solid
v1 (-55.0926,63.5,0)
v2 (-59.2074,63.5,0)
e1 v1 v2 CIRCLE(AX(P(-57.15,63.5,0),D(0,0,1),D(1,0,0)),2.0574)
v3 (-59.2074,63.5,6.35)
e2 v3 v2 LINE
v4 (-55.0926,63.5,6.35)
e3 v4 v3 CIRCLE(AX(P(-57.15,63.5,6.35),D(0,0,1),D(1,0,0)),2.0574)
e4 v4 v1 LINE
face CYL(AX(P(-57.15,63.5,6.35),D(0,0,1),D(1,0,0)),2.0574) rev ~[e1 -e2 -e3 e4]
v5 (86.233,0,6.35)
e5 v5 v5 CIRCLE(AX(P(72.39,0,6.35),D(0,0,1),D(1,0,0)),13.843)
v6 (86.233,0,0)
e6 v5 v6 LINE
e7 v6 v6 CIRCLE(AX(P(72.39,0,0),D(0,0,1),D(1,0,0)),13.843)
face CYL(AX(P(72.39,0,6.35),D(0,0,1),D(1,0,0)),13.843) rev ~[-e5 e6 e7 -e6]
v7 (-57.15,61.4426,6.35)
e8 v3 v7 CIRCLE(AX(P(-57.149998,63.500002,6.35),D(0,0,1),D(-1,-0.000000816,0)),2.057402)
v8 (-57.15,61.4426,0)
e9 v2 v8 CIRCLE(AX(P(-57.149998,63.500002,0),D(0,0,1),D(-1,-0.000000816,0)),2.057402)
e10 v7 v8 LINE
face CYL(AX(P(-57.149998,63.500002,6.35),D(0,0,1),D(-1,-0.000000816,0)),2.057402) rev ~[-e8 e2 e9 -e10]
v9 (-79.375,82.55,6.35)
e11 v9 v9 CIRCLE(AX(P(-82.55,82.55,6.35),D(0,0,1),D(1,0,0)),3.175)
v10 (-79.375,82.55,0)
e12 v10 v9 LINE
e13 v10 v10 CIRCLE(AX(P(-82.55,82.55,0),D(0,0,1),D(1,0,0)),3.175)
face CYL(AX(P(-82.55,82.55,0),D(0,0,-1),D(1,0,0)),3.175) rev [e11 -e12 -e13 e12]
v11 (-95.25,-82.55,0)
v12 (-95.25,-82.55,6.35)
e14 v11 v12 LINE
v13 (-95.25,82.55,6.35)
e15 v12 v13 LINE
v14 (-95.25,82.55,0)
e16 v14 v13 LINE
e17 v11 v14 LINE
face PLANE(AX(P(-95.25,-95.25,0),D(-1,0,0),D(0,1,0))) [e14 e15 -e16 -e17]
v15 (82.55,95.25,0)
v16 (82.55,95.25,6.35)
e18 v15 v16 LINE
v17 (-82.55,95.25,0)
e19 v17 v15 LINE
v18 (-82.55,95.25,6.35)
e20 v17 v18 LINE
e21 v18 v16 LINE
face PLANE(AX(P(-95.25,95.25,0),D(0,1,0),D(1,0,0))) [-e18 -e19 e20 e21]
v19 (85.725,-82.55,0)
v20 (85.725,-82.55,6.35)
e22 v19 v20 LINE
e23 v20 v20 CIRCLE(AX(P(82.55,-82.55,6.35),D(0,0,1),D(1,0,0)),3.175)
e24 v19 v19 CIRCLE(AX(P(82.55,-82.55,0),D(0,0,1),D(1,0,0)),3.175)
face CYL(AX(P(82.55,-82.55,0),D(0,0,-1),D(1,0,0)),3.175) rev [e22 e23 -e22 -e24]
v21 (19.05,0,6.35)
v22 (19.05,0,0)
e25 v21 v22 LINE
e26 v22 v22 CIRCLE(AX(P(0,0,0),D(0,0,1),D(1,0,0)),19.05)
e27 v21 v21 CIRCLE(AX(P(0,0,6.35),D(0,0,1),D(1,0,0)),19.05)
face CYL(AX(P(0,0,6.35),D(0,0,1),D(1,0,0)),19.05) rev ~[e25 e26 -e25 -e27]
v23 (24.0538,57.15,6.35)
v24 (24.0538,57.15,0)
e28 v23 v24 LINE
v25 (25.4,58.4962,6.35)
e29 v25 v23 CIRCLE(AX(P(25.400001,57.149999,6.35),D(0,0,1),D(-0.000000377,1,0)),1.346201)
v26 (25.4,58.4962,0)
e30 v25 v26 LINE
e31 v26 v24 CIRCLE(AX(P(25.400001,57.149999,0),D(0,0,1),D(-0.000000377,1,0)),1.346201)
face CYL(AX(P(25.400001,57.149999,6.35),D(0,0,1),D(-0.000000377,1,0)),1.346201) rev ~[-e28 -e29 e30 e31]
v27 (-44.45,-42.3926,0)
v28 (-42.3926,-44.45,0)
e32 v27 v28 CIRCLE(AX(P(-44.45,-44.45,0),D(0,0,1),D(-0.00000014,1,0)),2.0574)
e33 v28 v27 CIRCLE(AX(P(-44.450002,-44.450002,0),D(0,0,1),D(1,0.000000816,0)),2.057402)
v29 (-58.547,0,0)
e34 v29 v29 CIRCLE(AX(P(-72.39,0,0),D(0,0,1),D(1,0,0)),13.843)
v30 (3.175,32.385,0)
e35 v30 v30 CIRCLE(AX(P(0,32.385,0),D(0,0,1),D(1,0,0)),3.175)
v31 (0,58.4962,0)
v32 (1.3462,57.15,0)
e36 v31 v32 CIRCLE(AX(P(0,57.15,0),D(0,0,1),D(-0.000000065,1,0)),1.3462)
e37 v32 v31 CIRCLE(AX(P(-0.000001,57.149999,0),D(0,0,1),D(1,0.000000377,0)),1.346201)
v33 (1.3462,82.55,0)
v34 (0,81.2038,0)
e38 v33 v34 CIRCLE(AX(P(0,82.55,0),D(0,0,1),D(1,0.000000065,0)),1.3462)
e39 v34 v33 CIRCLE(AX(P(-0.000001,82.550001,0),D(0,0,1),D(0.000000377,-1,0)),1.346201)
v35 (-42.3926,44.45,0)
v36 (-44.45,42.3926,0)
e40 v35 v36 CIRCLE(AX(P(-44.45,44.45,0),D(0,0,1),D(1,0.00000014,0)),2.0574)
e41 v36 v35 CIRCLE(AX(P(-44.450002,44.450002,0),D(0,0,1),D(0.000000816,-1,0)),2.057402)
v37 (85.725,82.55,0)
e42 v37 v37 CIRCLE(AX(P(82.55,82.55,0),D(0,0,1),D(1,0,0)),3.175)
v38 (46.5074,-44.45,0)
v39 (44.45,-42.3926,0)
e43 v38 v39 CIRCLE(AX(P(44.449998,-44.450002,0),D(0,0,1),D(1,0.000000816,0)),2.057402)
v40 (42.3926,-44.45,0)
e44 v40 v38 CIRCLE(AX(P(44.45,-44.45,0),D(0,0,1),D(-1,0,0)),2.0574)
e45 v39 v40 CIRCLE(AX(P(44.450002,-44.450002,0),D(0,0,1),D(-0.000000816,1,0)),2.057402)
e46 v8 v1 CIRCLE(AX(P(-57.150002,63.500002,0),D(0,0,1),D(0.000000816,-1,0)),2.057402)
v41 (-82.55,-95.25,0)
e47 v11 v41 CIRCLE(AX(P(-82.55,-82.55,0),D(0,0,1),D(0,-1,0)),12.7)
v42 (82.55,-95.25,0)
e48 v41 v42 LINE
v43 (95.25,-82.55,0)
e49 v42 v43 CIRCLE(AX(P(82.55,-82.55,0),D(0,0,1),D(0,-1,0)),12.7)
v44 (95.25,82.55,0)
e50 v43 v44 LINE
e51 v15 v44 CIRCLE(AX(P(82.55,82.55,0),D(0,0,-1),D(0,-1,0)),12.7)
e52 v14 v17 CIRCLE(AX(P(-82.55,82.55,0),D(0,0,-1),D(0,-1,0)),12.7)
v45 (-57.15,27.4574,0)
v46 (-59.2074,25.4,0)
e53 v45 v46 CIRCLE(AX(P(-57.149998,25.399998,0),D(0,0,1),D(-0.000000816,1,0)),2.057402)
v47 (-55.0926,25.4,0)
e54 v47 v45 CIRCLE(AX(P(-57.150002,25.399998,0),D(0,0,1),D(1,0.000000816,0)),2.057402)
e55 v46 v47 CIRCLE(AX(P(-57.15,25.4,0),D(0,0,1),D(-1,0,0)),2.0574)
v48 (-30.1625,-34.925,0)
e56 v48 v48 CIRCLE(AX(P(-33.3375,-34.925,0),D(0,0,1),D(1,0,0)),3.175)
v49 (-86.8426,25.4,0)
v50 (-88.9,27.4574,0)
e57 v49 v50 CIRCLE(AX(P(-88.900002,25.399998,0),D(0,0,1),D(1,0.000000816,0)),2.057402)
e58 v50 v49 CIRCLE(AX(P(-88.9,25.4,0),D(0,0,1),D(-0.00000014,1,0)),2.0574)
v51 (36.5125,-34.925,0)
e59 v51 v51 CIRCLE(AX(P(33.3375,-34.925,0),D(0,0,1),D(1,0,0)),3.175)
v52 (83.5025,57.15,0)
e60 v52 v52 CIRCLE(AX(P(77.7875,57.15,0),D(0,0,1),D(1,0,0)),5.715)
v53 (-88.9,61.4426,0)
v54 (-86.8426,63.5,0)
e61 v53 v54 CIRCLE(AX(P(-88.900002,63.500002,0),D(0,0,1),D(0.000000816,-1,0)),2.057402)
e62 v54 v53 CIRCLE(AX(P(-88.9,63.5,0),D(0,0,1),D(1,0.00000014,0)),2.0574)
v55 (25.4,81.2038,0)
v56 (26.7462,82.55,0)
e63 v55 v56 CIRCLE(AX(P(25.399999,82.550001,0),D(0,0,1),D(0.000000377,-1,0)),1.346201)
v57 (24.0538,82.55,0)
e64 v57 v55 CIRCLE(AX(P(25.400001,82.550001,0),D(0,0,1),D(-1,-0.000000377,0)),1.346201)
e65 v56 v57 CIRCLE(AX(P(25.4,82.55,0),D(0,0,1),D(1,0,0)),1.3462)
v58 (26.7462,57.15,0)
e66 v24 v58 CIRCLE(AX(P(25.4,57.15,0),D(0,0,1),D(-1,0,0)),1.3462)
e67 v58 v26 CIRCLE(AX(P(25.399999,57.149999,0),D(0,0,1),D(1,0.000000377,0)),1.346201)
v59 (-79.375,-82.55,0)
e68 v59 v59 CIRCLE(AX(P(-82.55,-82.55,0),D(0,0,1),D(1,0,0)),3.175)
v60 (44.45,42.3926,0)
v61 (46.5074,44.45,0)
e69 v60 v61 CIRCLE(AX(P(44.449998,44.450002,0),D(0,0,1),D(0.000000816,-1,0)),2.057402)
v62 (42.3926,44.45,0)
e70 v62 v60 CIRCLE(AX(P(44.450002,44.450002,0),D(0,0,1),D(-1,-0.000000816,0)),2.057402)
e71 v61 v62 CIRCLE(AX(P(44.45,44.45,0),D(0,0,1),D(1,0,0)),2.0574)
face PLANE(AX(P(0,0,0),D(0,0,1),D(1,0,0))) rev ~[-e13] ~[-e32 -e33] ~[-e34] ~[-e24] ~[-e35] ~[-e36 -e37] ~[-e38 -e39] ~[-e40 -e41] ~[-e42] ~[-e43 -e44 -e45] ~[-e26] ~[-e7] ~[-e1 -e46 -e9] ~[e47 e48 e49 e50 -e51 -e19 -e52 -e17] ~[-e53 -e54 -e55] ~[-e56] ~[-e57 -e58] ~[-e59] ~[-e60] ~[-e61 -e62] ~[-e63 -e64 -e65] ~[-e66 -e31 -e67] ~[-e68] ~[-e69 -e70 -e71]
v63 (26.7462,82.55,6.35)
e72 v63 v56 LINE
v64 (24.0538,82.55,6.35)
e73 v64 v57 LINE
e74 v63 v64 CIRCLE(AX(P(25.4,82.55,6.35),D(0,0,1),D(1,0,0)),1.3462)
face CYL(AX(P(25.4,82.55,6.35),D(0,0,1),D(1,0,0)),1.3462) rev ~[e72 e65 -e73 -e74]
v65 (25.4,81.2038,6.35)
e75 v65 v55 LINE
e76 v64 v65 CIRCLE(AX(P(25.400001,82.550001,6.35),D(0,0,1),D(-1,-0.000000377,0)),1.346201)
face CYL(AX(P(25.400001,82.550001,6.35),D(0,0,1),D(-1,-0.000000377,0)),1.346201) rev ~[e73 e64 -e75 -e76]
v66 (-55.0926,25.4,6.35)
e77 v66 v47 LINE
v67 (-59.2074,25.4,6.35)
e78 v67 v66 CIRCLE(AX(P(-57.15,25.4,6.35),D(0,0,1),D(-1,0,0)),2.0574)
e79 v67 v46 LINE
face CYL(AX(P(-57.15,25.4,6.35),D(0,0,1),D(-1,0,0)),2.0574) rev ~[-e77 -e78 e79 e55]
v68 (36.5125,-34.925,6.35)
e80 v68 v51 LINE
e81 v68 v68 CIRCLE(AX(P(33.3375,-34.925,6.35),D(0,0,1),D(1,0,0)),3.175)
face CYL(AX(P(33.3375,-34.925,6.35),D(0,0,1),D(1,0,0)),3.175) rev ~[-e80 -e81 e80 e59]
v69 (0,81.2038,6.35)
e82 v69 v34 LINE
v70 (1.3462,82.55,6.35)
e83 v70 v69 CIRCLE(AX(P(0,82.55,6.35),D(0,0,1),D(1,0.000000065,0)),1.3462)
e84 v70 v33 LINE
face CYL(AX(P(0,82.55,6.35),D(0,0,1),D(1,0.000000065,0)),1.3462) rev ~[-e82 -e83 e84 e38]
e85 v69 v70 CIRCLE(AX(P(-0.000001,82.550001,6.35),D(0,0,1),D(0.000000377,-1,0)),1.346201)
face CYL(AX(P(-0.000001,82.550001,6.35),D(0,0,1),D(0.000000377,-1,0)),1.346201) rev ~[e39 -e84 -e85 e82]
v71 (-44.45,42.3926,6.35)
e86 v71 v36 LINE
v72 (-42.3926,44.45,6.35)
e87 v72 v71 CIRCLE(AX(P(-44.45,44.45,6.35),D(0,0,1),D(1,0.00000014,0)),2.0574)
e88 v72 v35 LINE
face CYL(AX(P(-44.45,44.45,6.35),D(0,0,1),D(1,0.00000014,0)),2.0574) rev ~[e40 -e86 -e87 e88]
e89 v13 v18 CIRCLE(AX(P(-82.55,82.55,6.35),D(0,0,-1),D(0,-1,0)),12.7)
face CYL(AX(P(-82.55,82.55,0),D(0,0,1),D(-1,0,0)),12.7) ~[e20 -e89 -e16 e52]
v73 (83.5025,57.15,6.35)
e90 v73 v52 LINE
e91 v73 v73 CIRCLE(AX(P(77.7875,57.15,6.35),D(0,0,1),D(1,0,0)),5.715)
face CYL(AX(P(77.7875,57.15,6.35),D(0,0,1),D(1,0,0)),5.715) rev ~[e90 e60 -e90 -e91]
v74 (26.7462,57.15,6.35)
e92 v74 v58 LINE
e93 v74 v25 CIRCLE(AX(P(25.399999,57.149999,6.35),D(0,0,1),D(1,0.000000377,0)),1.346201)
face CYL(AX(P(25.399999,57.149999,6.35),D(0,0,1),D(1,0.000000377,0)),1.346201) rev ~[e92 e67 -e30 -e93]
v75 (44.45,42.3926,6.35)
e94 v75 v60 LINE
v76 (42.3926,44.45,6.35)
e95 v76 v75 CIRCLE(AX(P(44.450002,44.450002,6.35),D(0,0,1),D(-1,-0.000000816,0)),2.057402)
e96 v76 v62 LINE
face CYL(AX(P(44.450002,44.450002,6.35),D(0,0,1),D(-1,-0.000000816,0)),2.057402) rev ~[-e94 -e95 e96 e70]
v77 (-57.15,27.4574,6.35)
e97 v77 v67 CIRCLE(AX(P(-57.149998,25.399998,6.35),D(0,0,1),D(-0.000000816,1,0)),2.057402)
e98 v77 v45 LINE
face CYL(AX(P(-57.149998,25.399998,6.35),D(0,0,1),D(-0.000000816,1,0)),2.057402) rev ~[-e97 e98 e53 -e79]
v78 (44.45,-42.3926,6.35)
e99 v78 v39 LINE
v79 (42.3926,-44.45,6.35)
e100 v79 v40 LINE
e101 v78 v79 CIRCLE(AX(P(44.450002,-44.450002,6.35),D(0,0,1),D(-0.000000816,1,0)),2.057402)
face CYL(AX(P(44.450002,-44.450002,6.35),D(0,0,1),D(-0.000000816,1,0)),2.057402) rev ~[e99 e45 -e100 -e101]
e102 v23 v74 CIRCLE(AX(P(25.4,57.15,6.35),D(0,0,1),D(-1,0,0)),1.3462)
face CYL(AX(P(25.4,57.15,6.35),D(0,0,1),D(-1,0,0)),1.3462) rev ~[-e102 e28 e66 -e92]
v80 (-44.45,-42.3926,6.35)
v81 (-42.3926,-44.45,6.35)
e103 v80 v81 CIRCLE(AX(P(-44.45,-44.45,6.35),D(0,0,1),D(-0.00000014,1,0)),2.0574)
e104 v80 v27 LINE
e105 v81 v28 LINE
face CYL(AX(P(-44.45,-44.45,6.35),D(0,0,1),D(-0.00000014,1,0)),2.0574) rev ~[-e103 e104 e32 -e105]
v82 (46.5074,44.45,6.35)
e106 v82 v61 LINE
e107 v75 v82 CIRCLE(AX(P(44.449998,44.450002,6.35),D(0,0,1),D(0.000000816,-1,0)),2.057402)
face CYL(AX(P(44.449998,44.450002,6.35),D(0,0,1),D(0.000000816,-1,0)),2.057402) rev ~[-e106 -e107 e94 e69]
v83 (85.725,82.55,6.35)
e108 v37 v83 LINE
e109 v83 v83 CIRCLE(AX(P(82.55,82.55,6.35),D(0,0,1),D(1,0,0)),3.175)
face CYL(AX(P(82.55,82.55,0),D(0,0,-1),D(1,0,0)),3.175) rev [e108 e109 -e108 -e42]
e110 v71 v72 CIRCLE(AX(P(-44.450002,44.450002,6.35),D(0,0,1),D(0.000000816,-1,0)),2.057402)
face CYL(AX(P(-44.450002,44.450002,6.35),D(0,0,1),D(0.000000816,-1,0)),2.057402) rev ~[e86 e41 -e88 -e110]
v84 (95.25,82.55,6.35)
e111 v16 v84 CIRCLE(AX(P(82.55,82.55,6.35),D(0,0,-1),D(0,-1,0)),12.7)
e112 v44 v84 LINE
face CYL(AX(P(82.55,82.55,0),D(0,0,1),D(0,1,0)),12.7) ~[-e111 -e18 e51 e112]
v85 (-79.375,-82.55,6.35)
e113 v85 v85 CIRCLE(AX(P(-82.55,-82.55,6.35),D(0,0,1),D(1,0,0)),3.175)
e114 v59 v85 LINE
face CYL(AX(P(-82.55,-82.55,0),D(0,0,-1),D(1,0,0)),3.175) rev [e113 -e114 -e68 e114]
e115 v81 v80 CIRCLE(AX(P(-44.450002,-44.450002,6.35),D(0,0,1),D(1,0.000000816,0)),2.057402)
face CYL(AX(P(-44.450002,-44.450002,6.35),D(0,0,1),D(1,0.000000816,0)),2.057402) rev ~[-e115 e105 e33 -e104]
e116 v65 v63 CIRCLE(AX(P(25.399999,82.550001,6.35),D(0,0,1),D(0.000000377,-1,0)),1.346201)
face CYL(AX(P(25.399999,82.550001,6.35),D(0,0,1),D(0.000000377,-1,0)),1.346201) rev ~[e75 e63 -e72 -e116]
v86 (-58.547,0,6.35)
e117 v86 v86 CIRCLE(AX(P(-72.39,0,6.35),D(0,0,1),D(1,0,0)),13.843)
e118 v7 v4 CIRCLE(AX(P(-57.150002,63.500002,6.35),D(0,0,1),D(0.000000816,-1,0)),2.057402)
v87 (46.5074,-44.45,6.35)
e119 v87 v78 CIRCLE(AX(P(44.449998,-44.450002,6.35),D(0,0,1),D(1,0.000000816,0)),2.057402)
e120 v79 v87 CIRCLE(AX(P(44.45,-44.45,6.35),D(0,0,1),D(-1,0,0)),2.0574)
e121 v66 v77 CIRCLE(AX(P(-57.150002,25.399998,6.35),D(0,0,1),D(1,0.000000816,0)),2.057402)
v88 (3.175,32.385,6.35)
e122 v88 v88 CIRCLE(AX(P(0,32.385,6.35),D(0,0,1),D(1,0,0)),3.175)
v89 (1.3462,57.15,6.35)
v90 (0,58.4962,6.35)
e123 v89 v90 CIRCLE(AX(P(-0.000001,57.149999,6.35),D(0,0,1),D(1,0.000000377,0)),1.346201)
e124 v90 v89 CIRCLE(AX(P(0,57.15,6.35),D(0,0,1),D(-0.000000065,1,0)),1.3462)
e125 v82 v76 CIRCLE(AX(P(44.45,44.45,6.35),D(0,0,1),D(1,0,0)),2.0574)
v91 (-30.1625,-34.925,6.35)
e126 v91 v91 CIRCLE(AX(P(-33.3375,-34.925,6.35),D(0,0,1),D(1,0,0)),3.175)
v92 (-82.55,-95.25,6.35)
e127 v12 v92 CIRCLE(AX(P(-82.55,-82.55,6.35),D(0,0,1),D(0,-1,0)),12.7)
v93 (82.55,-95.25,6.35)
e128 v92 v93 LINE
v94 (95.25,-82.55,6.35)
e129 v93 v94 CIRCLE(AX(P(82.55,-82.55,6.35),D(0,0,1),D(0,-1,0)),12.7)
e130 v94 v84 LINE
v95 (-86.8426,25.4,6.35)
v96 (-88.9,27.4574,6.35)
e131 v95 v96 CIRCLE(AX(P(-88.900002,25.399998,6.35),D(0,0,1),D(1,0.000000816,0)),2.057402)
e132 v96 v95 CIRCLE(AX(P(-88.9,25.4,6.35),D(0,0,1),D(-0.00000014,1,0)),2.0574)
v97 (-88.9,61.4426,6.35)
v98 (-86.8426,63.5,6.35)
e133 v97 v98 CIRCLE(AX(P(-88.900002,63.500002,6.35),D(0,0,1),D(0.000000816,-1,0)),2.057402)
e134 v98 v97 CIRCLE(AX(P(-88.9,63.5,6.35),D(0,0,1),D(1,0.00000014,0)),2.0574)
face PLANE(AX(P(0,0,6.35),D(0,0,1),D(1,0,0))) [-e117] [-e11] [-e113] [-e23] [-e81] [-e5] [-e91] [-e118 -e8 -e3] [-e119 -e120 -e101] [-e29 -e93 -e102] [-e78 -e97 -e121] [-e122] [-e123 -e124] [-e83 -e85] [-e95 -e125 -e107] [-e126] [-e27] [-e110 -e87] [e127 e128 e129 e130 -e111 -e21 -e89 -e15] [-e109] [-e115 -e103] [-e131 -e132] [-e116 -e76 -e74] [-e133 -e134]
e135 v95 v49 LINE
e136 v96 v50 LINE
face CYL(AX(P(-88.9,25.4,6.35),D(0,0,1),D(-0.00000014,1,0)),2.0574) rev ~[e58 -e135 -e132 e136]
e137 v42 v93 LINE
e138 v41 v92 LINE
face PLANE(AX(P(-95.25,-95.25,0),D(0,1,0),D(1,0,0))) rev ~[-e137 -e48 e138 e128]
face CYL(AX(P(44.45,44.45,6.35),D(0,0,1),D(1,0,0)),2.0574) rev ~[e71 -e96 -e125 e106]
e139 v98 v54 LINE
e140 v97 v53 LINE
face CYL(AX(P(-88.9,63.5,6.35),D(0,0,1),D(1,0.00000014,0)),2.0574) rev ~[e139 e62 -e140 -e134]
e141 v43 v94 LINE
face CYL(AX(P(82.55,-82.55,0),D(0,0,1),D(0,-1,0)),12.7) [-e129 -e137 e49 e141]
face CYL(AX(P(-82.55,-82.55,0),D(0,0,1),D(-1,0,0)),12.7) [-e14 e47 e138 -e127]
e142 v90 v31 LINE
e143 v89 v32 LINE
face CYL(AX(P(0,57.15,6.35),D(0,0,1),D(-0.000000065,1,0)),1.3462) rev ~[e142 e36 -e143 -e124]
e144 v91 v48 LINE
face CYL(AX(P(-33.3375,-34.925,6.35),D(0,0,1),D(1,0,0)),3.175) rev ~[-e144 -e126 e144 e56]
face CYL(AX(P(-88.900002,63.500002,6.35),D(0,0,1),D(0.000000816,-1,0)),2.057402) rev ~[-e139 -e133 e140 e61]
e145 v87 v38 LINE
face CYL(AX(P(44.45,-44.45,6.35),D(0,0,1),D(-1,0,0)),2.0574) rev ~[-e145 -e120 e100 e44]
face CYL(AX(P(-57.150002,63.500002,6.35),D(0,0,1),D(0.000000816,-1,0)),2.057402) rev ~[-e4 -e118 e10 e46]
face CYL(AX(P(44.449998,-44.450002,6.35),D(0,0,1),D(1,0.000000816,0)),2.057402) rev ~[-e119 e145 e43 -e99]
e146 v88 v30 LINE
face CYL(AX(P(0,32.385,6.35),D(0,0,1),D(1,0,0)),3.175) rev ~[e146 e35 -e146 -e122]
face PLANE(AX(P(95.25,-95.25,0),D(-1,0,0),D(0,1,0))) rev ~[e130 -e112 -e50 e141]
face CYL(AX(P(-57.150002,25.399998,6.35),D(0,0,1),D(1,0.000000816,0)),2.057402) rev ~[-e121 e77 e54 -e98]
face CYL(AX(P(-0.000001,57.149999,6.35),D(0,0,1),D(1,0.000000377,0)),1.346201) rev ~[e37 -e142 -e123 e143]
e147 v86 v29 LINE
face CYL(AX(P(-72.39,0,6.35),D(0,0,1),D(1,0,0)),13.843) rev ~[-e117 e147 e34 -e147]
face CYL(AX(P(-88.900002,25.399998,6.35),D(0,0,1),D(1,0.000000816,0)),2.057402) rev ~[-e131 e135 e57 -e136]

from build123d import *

# Parameters (mm, degrees)
F0_W      = 190.5
F0_H      = 190.5
F0_R      = 3.175
F1_DEPTH  = 6.35
F3_DEPTH  = 6.351
F5_DEPTH  = 6.351
F6_R      = 5.715
F7_DEPTH  = 6.351
F8_R      = 3.175
F8_R_2    = 19.05
F9_DEPTH  = 6.351
F10_R     = 12.7
F12_DEPTH = 6.351
F13_R     = 13.843
F14_DEPTH = 6.351


with BuildPart() as f1:
    # F0 (on Top) → F1 (new body)
    with BuildSketch(Plane.XY):
        Rectangle(F0_W, F0_H)
        with Locations((-82.55, -82.55)):
            Circle(F0_R, mode=Mode.SUBTRACT)
        with Locations((82.55, -82.55)):
            Circle(F0_R, mode=Mode.SUBTRACT)
        with Locations((-82.55, 82.55)):
            Circle(F0_R, mode=Mode.SUBTRACT)
        with Locations((82.55, 82.55)):
            Circle(F0_R, mode=Mode.SUBTRACT)
    extrude(amount=F1_DEPTH)

    # F2 (on face) → F3 (cut, through all)
    with BuildSketch(Plane.XY.offset(6.35)):
        with BuildLine():
            Line((-88.9, 61.4426), (-88.9, 63.5))
            Line((-88.9, 63.5), (-86.8426, 63.5))
            ThreePointArc((-86.8426, 63.5), (-90.354801, 64.954801), (-88.9, 61.4426))
        make_face()
        with BuildLine():
            Line((-86.8426, 63.5), (-88.9, 63.5))
            Line((-88.9, 63.5), (-88.9, 61.4426))
            ThreePointArc((-88.9, 61.4426), (-87.445199, 62.045199), (-86.8426, 63.5))
        make_face()
        with BuildLine():
            Line((-57.15, 63.5), (-59.2074, 63.5))
            ThreePointArc((-59.2074, 63.5), (-58.604801, 62.045199), (-57.15, 61.4426))
            Line((-57.15, 61.4426), (-57.15, 63.5))
        make_face()
        with BuildLine():
            ThreePointArc((-55.0926, 63.5), (-57.15, 65.5574), (-59.2074, 63.5))
            Line((-59.2074, 63.5), (-57.15, 63.5))
            Line((-57.15, 63.5), (-57.15, 61.4426))
            ThreePointArc((-57.15, 61.4426), (-55.695199, 62.045199), (-55.0926, 63.5))
        make_face()
        with BuildLine():
            ThreePointArc((-86.8426, 25.4), (-87.445199, 26.854801), (-88.9, 27.4574))
            Line((-88.9, 27.4574), (-88.9, 25.4))
            Line((-88.9, 25.4), (-86.8426, 25.4))
        make_face()
        with BuildLine():
            Line((-88.9, 25.4), (-88.9, 27.4574))
            ThreePointArc((-88.9, 27.4574), (-90.354801, 23.945199), (-86.8426, 25.4))
            Line((-86.8426, 25.4), (-88.9, 25.4))
        make_face()
        with BuildLine():
            Line((-57.15, 25.4), (-57.15, 27.4574))
            ThreePointArc((-57.15, 27.4574), (-58.604801, 26.854801), (-59.2074, 25.4))
            Line((-59.2074, 25.4), (-57.15, 25.4))
        make_face()
        with BuildLine():
            ThreePointArc((-55.0926, 25.4), (-55.695199, 26.854801), (-57.15, 27.4574))
            Line((-57.15, 27.4574), (-57.15, 25.4))
            Line((-57.15, 25.4), (-59.2074, 25.4))
            ThreePointArc((-59.2074, 25.4), (-57.15, 23.3426), (-55.0926, 25.4))
        make_face()
    extrude(amount=-F3_DEPTH, mode=Mode.SUBTRACT)

    # F4 (on face) → F5 (cut, through all)
    with BuildSketch(Plane.XY.offset(6.35)):
        with BuildLine():
            Line((-44.45, -42.3926), (-44.45, -44.45))
            Line((-44.45, -44.45), (-42.3926, -44.45))
            ThreePointArc((-42.3926, -44.45), (-42.995199, -42.995199), (-44.45, -42.3926))
        make_face()
        with BuildLine():
            Line((-42.3926, -44.45), (-44.45, -44.45))
            Line((-44.45, -44.45), (-44.45, -42.3926))
            ThreePointArc((-44.45, -42.3926), (-45.904801, -45.904801), (-42.3926, -44.45))
        make_face()
        with BuildLine():
            ThreePointArc((44.45, -42.3926), (42.995199, -42.995199), (42.3926, -44.45))
            Line((42.3926, -44.45), (44.45, -44.45))
            Line((44.45, -44.45), (44.45, -42.3926))
        make_face()
        with BuildLine():
            Line((44.45, -44.45), (42.3926, -44.45))
            ThreePointArc((42.3926, -44.45), (44.45, -46.5074), (46.5074, -44.45))
            ThreePointArc((46.5074, -44.45), (45.904801, -42.995199), (44.45, -42.3926))
            Line((44.45, -42.3926), (44.45, -44.45))
        make_face()
        with BuildLine():
            ThreePointArc((-42.3926, 44.45), (-45.904801, 45.904801), (-44.45, 42.3926))
            Line((-44.45, 42.3926), (-44.45, 44.45))
            Line((-44.45, 44.45), (-42.3926, 44.45))
        make_face()
        with BuildLine():
            Line((-44.45, 44.45), (-44.45, 42.3926))
            ThreePointArc((-44.45, 42.3926), (-42.995199, 42.995199), (-42.3926, 44.45))
            Line((-42.3926, 44.45), (-44.45, 44.45))
        make_face()
        with BuildLine():
            ThreePointArc((42.3926, 44.45), (42.995199, 42.995199), (44.45, 42.3926))
            Line((44.45, 42.3926), (44.45, 44.45))
            Line((44.45, 44.45), (42.3926, 44.45))
        make_face()
        with BuildLine():
            Line((44.45, 44.45), (44.45, 42.3926))
            ThreePointArc((44.45, 42.3926), (45.904801, 42.995199), (46.5074, 44.45))
            ThreePointArc((46.5074, 44.45), (44.45, 46.5074), (42.3926, 44.45))
            Line((42.3926, 44.45), (44.45, 44.45))
        make_face()
    extrude(amount=-F5_DEPTH, mode=Mode.SUBTRACT)

    # F6 (on face) → F7 (cut, through all)
    with BuildSketch(Plane.XY.offset(6.35)):
        with Locations((77.7875, 57.15)):
            Circle(F6_R)
    extrude(amount=-F7_DEPTH, mode=Mode.SUBTRACT)

    # F8 (on face) → F9 (cut, through all)
    with BuildSketch(Plane.XY.offset(6.35)):
        with Locations((-33.3375, -34.925)):
            Circle(F8_R)
        with Locations((33.3375, -34.925)):
            Circle(F8_R)
        with Locations((0, 32.385)):
            Circle(F8_R)
        Circle(F8_R_2)
    extrude(amount=-F9_DEPTH, mode=Mode.SUBTRACT)

    # F10
    f10_edges = [f1.edges().sort_by_distance(p)[0] for p in [
        (-95.25, 95.25, 3.175),
        (95.25, 95.25, 3.175),
        (95.25, -95.25, 3.175),
        (-95.25, -95.25, 3.175),
    ]]
    fillet(f10_edges, radius=F10_R)

    # F11 (on face) → F12 (cut, through all)
    with BuildSketch(Plane.XY.offset(6.35)):
        with BuildLine():
            Line((0, 81.2038), (0, 82.55))
            Line((0, 82.55), (1.3462, 82.55))
            ThreePointArc((1.3462, 82.55), (-0.951907, 83.501907), (0, 81.2038))
        make_face()
        with BuildLine():
            ThreePointArc((26.7462, 82.55), (25.4, 83.8962), (24.0538, 82.55))
            Line((24.0538, 82.55), (25.4, 82.55))
            Line((25.4, 82.55), (25.4, 81.2038))
            ThreePointArc((25.4, 81.2038), (26.351907, 81.598093), (26.7462, 82.55))
        make_face()
        with BuildLine():
            ThreePointArc((26.7462, 57.15), (26.351907, 58.101907), (25.4, 58.4962))
            Line((25.4, 58.4962), (25.4, 57.15))
            Line((25.4, 57.15), (24.0538, 57.15))
            ThreePointArc((24.0538, 57.15), (25.4, 55.8038), (26.7462, 57.15))
        make_face()
        with BuildLine():
            Line((25.4, 82.55), (24.0538, 82.55))
            ThreePointArc((24.0538, 82.55), (24.448093, 81.598093), (25.4, 81.2038))
            Line((25.4, 81.2038), (25.4, 82.55))
        make_face()
        with BuildLine():
            Line((25.4, 57.15), (25.4, 58.4962))
            ThreePointArc((25.4, 58.4962), (24.448093, 58.101907), (24.0538, 57.15))
            Line((24.0538, 57.15), (25.4, 57.15))
        make_face()
        with BuildLine():
            ThreePointArc((1.3462, 57.15), (0.951907, 58.101907), (0, 58.4962))
            Line((0, 58.4962), (0, 57.15))
            Line((0, 57.15), (1.3462, 57.15))
        make_face()
        with BuildLine():
            Line((0, 57.15), (0, 58.4962))
            ThreePointArc((0, 58.4962), (-0.951907, 56.198093), (1.3462, 57.15))
            Line((1.3462, 57.15), (0, 57.15))
        make_face()
        with BuildLine():
            Line((1.3462, 82.55), (0, 82.55))
            Line((0, 82.55), (0, 81.2038))
            ThreePointArc((0, 81.2038), (0.951907, 81.598093), (1.3462, 82.55))
        make_face()
    extrude(amount=-F12_DEPTH, mode=Mode.SUBTRACT)

    # F13 (on face) → F14 (cut, through all)
    with BuildSketch(Plane.XY.offset(6.35)):
        with Locations((-72.39, 0)):
            Circle(F13_R)
        with Locations((72.39, 0)):
            Circle(F13_R)
    extrude(amount=-F14_DEPTH, mode=Mode.SUBTRACT)


solid = f1.part
